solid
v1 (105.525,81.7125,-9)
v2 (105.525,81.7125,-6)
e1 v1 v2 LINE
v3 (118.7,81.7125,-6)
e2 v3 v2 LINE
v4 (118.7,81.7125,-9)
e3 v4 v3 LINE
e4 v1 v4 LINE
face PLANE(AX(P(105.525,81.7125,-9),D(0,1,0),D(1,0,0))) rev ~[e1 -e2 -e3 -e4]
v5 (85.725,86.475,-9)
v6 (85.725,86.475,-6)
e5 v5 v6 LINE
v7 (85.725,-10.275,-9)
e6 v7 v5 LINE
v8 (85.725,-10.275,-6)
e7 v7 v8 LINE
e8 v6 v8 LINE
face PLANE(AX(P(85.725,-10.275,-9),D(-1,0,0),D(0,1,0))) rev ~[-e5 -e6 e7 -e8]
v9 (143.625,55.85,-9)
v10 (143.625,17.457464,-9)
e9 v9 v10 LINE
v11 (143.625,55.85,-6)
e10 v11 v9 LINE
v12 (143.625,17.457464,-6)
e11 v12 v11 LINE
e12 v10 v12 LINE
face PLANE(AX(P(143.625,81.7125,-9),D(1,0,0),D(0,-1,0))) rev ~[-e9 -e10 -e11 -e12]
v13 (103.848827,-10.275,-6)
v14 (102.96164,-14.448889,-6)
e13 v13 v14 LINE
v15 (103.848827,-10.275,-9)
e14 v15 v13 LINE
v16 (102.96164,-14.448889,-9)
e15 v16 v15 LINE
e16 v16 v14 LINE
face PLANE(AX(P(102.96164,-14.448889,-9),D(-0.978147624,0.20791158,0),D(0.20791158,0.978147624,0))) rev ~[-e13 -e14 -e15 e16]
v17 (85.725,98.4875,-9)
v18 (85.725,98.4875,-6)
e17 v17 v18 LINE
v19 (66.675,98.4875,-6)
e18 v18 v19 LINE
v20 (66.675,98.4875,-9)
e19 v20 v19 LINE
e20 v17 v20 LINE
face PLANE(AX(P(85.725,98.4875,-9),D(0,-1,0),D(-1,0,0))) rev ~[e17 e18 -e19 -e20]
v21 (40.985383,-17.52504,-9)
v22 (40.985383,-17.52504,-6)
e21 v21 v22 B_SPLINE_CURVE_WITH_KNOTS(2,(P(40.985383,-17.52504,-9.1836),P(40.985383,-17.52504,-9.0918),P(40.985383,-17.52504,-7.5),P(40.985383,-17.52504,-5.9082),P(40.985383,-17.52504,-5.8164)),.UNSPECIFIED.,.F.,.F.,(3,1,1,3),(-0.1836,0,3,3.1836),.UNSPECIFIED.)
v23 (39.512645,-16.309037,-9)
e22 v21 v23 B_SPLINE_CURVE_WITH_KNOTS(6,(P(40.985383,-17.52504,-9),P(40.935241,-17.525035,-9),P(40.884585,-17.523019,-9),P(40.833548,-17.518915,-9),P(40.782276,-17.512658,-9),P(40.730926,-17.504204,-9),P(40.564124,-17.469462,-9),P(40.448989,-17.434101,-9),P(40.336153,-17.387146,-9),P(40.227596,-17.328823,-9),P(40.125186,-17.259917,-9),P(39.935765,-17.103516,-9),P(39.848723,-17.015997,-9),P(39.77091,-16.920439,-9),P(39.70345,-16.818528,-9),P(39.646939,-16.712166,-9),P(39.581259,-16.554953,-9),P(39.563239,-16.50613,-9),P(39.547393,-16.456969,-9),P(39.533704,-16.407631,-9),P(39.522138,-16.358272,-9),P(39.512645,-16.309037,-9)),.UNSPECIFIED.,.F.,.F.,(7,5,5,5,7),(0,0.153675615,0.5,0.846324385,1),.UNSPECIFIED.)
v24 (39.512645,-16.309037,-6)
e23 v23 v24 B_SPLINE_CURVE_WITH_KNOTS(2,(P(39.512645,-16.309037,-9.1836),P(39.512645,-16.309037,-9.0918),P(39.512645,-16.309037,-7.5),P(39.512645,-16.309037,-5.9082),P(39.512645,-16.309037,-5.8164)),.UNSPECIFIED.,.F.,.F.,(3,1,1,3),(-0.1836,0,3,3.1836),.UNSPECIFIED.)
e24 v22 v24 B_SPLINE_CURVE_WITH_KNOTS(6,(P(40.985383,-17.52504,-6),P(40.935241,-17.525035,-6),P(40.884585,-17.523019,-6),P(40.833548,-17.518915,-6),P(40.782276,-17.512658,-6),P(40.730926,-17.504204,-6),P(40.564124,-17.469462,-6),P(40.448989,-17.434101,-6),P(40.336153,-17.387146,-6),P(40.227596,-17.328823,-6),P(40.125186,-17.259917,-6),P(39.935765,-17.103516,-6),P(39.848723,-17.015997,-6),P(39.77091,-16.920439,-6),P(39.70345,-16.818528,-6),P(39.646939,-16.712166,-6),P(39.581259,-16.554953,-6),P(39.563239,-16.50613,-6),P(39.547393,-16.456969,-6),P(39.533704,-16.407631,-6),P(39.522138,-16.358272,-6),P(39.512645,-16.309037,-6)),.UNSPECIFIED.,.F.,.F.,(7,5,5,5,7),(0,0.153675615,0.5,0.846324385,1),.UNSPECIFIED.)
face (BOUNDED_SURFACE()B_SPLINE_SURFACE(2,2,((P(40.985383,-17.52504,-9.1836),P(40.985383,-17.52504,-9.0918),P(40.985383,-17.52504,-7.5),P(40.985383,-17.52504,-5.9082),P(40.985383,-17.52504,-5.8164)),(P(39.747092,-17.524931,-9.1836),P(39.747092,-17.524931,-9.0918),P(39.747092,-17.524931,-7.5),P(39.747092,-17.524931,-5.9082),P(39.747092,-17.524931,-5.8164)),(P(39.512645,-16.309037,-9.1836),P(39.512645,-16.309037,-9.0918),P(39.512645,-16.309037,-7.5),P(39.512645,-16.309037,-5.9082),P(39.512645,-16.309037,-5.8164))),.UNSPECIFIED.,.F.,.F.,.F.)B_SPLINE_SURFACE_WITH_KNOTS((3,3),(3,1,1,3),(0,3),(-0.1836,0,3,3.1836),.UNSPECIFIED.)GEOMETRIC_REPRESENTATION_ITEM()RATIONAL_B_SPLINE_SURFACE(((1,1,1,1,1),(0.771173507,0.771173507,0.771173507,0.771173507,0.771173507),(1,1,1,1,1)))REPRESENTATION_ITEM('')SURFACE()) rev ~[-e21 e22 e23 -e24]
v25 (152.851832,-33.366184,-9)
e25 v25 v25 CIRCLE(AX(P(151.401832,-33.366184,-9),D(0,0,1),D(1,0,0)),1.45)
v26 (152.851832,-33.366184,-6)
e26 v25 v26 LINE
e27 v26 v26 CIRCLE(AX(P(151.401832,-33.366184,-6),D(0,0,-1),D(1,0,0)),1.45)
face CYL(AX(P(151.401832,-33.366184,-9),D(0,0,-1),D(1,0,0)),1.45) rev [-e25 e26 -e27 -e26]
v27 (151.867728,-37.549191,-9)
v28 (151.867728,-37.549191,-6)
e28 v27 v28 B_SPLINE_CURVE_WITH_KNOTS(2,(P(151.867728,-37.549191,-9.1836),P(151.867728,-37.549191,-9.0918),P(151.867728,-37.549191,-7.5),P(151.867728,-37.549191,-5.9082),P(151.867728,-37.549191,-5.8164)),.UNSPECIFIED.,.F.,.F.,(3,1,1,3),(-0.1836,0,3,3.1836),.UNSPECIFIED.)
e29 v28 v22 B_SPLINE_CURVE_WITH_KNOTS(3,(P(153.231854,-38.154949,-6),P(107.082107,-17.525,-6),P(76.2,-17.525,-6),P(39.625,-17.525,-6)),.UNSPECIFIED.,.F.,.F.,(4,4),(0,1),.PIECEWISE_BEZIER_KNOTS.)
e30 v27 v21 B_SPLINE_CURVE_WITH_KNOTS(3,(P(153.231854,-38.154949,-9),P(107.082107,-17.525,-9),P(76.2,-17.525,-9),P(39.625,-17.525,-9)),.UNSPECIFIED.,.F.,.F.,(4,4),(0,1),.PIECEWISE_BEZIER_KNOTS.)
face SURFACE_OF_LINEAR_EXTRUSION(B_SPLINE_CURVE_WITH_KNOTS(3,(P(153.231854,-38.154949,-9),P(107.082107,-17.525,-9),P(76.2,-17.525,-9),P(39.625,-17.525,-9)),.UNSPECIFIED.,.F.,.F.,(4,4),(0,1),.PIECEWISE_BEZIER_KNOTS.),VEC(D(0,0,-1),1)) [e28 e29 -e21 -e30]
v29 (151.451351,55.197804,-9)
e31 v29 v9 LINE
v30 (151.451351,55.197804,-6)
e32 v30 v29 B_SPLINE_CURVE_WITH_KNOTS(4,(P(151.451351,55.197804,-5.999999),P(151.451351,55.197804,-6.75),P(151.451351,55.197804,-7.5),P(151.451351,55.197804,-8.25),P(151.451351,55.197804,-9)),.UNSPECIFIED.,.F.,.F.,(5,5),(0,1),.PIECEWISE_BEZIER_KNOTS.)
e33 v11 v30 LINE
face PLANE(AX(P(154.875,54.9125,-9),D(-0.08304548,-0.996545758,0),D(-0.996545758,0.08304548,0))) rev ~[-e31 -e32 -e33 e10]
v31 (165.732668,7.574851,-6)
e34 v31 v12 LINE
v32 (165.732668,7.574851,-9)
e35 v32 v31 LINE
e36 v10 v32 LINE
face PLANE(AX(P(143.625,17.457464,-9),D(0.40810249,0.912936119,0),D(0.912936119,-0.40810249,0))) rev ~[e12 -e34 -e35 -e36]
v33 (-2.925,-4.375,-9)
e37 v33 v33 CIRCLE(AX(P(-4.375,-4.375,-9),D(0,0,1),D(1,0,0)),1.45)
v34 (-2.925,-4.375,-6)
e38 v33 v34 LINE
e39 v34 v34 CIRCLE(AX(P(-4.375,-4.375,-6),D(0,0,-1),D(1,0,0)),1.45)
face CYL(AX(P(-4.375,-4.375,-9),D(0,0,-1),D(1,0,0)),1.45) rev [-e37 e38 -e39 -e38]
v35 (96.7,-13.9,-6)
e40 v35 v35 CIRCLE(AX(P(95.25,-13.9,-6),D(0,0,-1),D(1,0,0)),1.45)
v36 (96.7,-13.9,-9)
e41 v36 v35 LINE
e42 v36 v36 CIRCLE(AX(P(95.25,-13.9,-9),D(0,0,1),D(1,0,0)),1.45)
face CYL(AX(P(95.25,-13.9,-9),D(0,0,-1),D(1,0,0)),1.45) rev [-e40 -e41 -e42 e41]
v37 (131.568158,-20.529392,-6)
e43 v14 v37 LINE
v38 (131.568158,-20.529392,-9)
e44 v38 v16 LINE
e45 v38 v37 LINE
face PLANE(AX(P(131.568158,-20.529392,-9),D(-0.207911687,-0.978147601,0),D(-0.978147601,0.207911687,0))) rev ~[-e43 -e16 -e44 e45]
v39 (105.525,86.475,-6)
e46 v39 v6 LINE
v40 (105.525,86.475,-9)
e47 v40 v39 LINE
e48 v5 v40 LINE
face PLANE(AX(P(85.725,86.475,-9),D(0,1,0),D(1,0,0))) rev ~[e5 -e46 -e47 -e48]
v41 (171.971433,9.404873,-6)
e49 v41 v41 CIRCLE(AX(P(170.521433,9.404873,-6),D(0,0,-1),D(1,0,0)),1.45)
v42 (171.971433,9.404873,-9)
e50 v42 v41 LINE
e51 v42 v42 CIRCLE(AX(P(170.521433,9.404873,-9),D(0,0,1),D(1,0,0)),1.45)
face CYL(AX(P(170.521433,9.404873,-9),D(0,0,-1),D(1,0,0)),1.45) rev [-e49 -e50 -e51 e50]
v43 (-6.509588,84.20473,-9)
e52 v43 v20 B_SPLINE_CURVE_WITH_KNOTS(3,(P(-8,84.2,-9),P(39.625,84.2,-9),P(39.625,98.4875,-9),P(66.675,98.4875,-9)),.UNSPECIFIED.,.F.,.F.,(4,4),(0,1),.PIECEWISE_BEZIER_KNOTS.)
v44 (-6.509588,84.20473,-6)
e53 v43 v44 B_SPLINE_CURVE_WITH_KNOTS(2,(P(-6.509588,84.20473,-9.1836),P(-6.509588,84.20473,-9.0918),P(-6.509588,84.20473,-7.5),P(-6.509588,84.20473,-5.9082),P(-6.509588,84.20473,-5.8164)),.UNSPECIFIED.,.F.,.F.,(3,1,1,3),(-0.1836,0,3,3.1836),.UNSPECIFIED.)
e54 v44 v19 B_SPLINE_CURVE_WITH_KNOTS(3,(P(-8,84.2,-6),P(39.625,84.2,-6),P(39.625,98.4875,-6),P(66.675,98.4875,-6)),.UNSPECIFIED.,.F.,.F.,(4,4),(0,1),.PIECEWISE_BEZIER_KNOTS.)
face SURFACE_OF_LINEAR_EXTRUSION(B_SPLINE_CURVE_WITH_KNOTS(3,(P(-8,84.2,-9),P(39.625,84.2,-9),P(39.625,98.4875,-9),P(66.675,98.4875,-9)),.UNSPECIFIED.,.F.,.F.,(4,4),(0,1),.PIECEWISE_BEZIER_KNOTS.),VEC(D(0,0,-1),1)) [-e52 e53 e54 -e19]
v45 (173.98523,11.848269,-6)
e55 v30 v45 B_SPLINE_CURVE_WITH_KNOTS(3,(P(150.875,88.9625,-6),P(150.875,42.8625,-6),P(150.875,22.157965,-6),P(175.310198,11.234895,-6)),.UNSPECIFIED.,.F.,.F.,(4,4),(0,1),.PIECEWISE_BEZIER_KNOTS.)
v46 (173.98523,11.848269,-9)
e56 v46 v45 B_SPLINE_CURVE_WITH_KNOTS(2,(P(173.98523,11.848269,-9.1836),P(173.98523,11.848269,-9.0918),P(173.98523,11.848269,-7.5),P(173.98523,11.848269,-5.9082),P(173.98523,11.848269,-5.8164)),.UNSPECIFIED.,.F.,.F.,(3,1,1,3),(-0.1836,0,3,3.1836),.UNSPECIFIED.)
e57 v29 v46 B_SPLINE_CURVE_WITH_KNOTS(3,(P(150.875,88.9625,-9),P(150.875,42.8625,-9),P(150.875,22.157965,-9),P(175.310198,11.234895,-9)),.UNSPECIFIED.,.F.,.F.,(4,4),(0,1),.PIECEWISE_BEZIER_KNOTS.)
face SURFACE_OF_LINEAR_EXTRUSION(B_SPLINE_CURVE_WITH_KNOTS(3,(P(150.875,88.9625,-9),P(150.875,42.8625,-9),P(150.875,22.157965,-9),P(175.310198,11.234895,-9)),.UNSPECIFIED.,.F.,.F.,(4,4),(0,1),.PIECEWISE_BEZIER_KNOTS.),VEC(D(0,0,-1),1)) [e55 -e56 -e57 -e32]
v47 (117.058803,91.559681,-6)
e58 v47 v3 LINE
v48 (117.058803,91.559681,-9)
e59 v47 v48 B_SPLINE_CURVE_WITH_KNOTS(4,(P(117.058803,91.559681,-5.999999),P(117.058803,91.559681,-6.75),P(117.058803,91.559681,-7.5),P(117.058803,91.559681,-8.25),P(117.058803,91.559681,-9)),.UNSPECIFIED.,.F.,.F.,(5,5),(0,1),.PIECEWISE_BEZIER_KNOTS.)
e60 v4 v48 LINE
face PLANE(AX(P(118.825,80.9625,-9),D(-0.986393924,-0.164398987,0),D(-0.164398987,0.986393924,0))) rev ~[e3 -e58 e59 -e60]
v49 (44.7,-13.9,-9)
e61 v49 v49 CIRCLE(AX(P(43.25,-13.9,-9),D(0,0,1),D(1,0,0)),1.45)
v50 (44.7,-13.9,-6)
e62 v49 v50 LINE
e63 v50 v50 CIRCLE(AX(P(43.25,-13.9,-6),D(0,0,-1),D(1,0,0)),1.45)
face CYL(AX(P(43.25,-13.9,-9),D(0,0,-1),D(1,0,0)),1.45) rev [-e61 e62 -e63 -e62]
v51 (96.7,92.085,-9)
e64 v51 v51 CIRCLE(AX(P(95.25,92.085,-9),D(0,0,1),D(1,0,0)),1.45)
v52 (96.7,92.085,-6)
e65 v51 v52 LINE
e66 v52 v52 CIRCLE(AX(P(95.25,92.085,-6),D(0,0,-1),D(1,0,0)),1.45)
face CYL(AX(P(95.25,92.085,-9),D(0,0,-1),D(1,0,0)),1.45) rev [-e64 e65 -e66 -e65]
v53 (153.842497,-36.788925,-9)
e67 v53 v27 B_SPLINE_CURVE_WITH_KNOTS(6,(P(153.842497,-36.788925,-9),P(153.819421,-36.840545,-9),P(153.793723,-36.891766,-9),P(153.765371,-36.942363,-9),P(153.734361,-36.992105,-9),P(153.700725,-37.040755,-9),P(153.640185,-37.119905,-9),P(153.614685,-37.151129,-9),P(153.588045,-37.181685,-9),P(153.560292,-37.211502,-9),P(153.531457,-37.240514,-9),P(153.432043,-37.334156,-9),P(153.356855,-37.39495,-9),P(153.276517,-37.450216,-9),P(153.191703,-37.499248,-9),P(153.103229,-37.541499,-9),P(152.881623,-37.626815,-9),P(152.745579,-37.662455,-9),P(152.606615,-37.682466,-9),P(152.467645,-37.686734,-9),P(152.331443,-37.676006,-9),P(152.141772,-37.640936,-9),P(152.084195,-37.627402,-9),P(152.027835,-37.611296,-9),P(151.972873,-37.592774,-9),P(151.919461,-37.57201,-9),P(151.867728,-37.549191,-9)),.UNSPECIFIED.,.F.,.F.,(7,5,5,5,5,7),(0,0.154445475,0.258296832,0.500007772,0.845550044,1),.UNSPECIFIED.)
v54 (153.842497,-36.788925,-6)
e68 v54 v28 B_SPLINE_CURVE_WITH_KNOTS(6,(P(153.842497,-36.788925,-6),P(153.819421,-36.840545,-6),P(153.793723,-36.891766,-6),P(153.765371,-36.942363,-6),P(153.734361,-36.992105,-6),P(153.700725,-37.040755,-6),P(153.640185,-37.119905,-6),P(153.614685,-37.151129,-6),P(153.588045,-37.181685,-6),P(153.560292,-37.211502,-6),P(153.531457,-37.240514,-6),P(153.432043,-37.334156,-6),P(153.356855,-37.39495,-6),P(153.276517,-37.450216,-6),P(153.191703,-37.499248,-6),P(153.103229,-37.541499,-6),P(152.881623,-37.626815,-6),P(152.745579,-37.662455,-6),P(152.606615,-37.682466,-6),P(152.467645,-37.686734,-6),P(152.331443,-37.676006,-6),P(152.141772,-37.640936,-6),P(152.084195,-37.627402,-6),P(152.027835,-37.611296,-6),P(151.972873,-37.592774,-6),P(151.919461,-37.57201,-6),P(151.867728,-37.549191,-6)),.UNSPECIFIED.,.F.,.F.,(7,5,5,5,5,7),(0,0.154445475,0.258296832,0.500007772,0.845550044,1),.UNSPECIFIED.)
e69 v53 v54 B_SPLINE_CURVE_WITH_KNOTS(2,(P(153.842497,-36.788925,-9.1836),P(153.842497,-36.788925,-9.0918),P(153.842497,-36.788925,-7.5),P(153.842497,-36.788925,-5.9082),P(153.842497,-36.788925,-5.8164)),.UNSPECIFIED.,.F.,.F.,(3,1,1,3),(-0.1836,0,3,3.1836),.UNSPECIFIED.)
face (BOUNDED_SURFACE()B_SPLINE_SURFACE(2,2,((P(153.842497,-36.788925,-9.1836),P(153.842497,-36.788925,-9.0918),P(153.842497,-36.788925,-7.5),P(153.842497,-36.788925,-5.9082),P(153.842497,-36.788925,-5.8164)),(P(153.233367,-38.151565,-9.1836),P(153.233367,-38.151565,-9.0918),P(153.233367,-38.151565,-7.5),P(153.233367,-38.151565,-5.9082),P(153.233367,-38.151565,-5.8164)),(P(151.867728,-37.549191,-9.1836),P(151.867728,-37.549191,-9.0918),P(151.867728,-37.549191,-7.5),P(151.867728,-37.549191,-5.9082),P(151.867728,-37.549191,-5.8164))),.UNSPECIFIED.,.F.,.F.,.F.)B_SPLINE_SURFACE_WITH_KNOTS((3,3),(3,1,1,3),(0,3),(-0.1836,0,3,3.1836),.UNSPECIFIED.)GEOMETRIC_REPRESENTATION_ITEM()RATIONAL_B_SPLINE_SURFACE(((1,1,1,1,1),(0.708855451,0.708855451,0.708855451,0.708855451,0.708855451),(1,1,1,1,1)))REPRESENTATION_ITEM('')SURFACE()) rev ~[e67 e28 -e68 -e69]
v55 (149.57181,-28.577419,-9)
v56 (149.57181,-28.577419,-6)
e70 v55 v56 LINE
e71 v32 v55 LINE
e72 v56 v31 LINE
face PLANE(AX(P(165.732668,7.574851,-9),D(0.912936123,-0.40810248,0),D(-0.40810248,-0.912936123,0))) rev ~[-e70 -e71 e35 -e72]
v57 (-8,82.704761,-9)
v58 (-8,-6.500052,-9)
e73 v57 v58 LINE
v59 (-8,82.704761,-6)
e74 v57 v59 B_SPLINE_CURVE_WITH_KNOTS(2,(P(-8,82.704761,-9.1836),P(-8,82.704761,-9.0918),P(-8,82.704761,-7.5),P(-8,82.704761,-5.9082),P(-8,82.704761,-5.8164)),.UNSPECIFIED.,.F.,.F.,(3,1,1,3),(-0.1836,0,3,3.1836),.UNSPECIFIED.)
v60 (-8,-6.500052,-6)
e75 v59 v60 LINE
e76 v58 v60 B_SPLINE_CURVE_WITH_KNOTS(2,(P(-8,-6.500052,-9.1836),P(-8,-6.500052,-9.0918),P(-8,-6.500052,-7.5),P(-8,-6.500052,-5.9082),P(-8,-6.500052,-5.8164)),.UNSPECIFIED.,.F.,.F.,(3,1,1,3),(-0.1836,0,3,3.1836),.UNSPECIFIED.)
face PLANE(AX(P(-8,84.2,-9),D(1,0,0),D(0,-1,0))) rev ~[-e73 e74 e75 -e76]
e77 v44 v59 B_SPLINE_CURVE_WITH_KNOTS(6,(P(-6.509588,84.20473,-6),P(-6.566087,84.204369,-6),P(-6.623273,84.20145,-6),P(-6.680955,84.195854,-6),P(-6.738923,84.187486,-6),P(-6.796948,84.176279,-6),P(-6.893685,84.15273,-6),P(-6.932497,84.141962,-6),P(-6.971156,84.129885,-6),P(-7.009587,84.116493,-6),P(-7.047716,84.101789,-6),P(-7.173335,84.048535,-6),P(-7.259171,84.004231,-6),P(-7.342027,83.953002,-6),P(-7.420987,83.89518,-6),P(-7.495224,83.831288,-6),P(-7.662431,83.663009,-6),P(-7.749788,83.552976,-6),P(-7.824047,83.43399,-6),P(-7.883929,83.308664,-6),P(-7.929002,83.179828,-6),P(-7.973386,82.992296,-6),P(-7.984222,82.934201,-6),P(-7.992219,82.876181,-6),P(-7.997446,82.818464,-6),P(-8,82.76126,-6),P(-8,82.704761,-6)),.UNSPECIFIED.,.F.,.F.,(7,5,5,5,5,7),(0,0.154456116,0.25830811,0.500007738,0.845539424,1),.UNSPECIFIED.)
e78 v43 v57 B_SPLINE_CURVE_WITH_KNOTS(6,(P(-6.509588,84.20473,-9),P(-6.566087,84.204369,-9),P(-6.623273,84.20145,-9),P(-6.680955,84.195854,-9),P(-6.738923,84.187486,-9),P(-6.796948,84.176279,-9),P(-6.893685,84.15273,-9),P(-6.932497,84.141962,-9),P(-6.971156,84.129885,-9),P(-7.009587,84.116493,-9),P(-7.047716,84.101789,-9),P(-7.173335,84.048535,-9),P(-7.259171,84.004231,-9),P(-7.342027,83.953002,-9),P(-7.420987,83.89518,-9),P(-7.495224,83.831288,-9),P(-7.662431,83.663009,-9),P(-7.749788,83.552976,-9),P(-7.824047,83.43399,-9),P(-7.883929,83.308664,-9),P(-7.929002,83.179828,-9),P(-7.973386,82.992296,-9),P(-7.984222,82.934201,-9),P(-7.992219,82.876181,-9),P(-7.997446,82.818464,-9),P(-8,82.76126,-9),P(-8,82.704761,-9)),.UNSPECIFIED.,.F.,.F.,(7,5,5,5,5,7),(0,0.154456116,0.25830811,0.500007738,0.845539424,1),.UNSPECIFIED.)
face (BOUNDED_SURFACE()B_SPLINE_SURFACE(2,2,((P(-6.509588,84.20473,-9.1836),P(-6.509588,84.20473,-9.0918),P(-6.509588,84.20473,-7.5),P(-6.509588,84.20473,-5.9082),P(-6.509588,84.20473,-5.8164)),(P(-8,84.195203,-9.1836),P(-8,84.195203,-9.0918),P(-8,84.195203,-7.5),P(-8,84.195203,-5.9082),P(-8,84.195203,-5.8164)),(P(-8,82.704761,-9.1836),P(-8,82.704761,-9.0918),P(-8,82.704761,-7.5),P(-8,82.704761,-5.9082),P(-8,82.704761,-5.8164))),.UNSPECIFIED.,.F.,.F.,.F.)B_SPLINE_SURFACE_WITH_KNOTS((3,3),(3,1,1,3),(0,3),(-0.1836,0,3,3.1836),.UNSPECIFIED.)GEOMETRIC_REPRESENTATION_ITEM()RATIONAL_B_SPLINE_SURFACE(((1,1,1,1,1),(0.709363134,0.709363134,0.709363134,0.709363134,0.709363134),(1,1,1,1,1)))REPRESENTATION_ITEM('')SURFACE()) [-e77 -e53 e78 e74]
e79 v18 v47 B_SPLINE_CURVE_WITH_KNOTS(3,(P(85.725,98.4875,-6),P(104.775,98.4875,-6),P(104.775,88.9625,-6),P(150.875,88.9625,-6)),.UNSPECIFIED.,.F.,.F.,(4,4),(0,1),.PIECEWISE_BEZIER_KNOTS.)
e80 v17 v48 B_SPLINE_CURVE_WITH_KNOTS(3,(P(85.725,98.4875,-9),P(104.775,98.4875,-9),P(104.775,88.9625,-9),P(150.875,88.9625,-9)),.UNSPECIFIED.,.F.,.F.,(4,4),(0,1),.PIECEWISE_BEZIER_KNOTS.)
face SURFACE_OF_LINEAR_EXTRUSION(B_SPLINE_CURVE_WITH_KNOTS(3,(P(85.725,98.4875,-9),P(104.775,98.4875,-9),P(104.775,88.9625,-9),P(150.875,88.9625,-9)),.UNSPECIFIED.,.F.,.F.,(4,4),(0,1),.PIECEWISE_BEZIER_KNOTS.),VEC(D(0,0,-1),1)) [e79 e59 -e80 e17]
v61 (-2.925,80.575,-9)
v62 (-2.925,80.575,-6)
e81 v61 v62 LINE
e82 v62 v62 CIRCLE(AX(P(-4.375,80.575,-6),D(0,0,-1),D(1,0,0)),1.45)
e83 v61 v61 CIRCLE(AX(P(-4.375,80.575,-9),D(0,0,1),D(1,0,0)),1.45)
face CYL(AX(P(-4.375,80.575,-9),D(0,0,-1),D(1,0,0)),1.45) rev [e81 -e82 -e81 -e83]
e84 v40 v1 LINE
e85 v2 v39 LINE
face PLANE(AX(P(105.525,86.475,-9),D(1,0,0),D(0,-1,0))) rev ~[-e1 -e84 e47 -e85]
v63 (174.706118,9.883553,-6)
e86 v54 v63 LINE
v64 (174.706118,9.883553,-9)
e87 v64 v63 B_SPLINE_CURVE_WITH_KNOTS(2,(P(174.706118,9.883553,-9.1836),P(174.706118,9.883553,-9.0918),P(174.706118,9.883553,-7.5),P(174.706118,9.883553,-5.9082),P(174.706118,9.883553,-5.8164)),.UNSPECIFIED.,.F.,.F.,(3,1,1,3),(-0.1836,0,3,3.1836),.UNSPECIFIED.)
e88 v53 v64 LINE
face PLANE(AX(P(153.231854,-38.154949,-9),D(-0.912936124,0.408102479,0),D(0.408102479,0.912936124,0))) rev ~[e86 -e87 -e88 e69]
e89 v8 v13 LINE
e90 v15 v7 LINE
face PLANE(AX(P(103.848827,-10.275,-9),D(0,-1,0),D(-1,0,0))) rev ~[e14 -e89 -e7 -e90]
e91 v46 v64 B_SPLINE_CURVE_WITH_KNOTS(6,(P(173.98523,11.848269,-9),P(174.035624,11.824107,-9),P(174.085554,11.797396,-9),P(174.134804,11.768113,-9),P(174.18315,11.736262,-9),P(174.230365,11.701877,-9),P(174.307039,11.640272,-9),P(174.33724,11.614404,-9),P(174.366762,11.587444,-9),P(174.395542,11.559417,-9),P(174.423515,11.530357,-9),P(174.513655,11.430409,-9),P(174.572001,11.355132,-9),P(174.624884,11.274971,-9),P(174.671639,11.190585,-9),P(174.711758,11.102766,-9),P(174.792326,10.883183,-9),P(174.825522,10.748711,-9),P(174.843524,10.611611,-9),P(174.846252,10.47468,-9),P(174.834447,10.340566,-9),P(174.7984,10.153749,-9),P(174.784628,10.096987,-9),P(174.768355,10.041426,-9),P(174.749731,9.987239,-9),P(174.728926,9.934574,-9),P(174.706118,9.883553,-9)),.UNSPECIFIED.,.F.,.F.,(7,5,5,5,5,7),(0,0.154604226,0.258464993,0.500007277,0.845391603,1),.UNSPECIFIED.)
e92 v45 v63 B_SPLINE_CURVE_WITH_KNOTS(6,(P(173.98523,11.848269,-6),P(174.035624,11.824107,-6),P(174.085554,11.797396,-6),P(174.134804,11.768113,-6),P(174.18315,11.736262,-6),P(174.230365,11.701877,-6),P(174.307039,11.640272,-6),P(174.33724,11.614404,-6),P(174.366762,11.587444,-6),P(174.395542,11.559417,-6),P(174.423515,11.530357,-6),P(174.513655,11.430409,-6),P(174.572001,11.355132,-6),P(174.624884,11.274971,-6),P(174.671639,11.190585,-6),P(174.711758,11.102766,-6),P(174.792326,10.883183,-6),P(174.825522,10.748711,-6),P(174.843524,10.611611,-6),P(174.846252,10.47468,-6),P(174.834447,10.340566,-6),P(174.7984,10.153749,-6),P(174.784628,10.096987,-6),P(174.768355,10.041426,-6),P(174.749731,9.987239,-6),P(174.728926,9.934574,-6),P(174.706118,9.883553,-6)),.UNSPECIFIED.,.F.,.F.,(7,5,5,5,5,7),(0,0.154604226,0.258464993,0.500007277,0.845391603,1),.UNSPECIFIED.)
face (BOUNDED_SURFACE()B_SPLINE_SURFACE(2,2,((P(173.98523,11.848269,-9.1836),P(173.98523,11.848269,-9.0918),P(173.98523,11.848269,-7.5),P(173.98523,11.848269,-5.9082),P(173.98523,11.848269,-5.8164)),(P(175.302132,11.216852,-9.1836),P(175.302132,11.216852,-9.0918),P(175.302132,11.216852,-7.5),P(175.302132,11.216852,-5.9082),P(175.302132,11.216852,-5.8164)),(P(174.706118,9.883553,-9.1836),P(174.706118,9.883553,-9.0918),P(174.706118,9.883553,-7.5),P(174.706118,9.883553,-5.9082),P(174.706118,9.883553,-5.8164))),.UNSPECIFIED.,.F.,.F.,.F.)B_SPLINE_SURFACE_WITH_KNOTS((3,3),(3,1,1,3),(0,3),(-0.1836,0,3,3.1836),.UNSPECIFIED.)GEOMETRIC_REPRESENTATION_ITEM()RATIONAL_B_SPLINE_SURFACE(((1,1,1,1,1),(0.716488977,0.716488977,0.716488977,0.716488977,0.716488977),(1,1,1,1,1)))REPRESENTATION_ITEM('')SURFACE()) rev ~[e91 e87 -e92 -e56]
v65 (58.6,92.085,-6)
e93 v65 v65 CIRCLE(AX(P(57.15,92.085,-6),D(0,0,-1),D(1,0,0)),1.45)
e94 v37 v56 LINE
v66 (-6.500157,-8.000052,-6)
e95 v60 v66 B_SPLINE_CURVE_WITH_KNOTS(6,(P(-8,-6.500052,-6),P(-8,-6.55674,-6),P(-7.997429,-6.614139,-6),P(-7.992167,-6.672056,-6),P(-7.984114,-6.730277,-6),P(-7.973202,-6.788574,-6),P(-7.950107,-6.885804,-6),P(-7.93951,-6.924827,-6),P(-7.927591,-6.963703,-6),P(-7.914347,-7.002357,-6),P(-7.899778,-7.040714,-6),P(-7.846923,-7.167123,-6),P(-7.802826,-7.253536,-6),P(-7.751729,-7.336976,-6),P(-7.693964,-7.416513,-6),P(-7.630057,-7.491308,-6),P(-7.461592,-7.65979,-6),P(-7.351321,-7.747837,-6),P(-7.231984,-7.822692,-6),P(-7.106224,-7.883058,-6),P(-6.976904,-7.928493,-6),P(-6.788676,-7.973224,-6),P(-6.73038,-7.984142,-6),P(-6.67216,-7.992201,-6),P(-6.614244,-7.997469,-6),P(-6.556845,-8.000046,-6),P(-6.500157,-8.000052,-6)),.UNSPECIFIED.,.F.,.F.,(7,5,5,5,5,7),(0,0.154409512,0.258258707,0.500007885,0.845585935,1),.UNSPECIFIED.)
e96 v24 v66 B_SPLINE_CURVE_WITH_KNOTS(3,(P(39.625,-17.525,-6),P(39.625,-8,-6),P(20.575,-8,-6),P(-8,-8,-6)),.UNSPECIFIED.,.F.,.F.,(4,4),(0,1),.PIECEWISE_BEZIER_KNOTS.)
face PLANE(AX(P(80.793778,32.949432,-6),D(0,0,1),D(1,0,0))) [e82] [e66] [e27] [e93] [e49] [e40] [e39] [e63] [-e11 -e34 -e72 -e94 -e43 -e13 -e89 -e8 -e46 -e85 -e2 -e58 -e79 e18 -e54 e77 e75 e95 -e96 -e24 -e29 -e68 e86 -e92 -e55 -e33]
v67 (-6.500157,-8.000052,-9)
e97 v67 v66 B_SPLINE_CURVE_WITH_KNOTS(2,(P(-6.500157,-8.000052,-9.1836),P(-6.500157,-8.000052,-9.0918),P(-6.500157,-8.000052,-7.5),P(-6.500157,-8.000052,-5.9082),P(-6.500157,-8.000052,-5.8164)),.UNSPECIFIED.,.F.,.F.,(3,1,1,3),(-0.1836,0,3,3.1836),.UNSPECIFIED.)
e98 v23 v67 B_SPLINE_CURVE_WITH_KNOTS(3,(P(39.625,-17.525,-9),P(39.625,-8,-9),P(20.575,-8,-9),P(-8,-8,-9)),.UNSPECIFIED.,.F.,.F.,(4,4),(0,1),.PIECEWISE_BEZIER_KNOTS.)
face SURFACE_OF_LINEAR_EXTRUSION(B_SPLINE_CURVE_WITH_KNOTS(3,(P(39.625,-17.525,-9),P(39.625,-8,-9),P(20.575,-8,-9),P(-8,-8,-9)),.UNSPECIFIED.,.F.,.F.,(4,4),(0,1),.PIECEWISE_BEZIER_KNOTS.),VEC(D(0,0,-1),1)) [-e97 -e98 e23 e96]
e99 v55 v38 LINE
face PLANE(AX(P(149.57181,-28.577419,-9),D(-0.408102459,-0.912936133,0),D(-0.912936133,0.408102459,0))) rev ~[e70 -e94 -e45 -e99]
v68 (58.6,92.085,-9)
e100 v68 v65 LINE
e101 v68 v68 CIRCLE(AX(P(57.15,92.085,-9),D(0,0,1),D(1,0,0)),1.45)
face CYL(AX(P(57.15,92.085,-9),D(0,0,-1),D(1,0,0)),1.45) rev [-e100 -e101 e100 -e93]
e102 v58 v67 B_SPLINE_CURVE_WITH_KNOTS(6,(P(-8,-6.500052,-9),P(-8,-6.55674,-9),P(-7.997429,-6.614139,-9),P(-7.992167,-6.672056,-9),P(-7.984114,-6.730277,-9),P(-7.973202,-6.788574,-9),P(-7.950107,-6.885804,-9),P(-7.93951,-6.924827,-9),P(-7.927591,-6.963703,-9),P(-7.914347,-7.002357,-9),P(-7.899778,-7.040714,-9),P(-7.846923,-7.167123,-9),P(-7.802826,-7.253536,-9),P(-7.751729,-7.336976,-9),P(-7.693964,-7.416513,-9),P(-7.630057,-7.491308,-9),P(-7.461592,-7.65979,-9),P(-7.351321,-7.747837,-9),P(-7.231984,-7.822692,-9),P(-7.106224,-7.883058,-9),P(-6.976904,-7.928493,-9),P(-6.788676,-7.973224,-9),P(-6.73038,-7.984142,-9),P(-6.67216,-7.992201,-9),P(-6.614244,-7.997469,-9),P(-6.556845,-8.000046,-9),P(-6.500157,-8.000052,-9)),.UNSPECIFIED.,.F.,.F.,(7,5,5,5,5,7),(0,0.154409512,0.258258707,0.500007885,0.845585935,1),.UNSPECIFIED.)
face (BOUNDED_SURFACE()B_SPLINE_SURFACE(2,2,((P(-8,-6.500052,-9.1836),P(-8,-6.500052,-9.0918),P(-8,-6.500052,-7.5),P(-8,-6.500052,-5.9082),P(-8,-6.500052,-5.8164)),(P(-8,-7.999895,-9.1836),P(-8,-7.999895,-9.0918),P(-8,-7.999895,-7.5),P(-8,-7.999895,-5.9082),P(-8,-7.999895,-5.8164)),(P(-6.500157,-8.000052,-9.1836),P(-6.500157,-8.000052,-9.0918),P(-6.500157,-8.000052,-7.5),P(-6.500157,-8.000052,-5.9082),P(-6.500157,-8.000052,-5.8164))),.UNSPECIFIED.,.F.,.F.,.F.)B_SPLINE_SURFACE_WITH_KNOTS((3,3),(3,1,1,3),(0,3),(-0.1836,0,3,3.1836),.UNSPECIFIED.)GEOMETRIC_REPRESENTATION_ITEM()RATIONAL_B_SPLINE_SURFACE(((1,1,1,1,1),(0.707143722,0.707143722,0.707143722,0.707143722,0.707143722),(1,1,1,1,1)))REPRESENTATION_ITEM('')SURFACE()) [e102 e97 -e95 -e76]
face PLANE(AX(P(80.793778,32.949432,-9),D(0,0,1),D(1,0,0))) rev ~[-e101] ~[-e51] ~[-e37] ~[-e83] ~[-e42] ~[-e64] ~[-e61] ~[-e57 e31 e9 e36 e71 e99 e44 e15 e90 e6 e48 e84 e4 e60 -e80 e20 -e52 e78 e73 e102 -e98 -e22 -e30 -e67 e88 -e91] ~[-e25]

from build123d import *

# Parameters (mm, degrees)
PAD007_DEPTH    = 3
POCKET010_DEPTH = 5
SKETCH042_R     = 1.45
POCKET018_DEPTH = 16
POCKET024_DEPTH = 19
FILLET005_R     = 1.5


with BuildPart() as part:
    # Sketch029 → Pad007 (new body)
    with BuildSketch(Plane.XY):
        with BuildLine():
            Line((85.725, 98.4875), (66.675, 98.4875))
            add(Edge.make_bspline(
                [(-8, 84.2), (39.625, 84.2), (39.625, 98.4875), (66.675, 98.4875)],
                knots=[0, 0, 0, 0, 1, 1, 1, 1], degree=3))
            Line((-8, 84.2), (-8, -8))
            add(Edge.make_bspline(
                [(39.625, -17.525), (39.625, -8), (20.575, -8), (-8, -8)],
                knots=[0, 0, 0, 0, 1, 1, 1, 1], degree=3))
            add(Edge.make_bspline(
                [(153.231854, -38.154949), (107.082107, -17.525), (76.2, -17.525), (39.625, -17.525)],
                knots=[0, 0, 0, 0, 1, 1, 1, 1], degree=3))
            Line((153.231854, -38.154949), (175.310198, 11.234895))
            add(Edge.make_bspline(
                [(150.875, 88.9625), (150.875, 42.8625), (150.875, 22.157965), (175.310198, 11.234895)],
                knots=[0, 0, 0, 0, 1, 1, 1, 1], degree=3))
            add(Edge.make_bspline(
                [(85.725, 98.4875), (104.775, 98.4875), (104.775, 88.9625), (150.875, 88.9625)],
                knots=[0, 0, 0, 0, 1, 1, 1, 1], degree=3))
        make_face()
    extrude(amount=PAD007_DEPTH)

    # Sketch028 → Pocket010 (cut)
    with BuildSketch(Plane(origin=(0, 0, 0), x_dir=(1, 0, 0), z_dir=(0, 0, -1))):
        Polygon((85.725, -86.475), (105.525, -86.475), (105.525, -81.7125), (143.625, -81.7125), (143.625, -17.457464), (165.732668, -7.574851), (149.57181, 28.577419), (131.568158, 20.529392), (102.96164, 14.448889), (103.848827, 10.275), (85.725, 10.275), align=None)
    extrude(amount=-POCKET010_DEPTH, mode=Mode.SUBTRACT)

    # Sketch042 → Pocket018 (cut)
    with BuildSketch(Plane.XY):
        with Locations((-4.375, -4.375)):
            Circle(SKETCH042_R)
        with Locations((-4.375, 80.575)):
            Circle(SKETCH042_R)
        with Locations((151.401832, -33.366184)):
            Circle(SKETCH042_R)
        with Locations((170.521433, 9.404873)):
            Circle(SKETCH042_R)
        with Locations((147.25, 85.3375)):
            Circle(SKETCH042_R)
        with Locations((43.25, -13.9)):
            Circle(SKETCH042_R)
        with Locations((57.15, 92.085)):
            Circle(SKETCH042_R)
        with Locations((95.25, 92.085)):
            Circle(SKETCH042_R)
        with Locations((95.25, -13.9)):
            Circle(SKETCH042_R)
    extrude(amount=POCKET018_DEPTH, mode=Mode.SUBTRACT)

    # Sketch050 → Pocket024 (cut)
    with BuildSketch(Plane.XY):
        Polygon((118.825, 80.9625), (116.825, 92.9625), (166.907578, 98.346489), (154.875, 54.9125), (142.875, 55.9125), align=None)
    extrude(amount=POCKET024_DEPTH, mode=Mode.SUBTRACT)

    # Fillet005
    fillet005_edges = [part.edges().sort_by_distance(p)[0] for p in [
        (-8, 84.2, 1.5),
        (-8, -8, 1.5),
        (39.625, -17.525, 1.5),
        (153.231854, -38.154949, 1.5),
        (175.310198, 11.234895, 1.5),
    ]]
    fillet(fillet005_edges, radius=FILLET005_R)


with BuildPart() as part_1:
    # Body006 placement: moved
    add(part.part.moved(Location((0, 0, -9))))


solid = part_1.part
